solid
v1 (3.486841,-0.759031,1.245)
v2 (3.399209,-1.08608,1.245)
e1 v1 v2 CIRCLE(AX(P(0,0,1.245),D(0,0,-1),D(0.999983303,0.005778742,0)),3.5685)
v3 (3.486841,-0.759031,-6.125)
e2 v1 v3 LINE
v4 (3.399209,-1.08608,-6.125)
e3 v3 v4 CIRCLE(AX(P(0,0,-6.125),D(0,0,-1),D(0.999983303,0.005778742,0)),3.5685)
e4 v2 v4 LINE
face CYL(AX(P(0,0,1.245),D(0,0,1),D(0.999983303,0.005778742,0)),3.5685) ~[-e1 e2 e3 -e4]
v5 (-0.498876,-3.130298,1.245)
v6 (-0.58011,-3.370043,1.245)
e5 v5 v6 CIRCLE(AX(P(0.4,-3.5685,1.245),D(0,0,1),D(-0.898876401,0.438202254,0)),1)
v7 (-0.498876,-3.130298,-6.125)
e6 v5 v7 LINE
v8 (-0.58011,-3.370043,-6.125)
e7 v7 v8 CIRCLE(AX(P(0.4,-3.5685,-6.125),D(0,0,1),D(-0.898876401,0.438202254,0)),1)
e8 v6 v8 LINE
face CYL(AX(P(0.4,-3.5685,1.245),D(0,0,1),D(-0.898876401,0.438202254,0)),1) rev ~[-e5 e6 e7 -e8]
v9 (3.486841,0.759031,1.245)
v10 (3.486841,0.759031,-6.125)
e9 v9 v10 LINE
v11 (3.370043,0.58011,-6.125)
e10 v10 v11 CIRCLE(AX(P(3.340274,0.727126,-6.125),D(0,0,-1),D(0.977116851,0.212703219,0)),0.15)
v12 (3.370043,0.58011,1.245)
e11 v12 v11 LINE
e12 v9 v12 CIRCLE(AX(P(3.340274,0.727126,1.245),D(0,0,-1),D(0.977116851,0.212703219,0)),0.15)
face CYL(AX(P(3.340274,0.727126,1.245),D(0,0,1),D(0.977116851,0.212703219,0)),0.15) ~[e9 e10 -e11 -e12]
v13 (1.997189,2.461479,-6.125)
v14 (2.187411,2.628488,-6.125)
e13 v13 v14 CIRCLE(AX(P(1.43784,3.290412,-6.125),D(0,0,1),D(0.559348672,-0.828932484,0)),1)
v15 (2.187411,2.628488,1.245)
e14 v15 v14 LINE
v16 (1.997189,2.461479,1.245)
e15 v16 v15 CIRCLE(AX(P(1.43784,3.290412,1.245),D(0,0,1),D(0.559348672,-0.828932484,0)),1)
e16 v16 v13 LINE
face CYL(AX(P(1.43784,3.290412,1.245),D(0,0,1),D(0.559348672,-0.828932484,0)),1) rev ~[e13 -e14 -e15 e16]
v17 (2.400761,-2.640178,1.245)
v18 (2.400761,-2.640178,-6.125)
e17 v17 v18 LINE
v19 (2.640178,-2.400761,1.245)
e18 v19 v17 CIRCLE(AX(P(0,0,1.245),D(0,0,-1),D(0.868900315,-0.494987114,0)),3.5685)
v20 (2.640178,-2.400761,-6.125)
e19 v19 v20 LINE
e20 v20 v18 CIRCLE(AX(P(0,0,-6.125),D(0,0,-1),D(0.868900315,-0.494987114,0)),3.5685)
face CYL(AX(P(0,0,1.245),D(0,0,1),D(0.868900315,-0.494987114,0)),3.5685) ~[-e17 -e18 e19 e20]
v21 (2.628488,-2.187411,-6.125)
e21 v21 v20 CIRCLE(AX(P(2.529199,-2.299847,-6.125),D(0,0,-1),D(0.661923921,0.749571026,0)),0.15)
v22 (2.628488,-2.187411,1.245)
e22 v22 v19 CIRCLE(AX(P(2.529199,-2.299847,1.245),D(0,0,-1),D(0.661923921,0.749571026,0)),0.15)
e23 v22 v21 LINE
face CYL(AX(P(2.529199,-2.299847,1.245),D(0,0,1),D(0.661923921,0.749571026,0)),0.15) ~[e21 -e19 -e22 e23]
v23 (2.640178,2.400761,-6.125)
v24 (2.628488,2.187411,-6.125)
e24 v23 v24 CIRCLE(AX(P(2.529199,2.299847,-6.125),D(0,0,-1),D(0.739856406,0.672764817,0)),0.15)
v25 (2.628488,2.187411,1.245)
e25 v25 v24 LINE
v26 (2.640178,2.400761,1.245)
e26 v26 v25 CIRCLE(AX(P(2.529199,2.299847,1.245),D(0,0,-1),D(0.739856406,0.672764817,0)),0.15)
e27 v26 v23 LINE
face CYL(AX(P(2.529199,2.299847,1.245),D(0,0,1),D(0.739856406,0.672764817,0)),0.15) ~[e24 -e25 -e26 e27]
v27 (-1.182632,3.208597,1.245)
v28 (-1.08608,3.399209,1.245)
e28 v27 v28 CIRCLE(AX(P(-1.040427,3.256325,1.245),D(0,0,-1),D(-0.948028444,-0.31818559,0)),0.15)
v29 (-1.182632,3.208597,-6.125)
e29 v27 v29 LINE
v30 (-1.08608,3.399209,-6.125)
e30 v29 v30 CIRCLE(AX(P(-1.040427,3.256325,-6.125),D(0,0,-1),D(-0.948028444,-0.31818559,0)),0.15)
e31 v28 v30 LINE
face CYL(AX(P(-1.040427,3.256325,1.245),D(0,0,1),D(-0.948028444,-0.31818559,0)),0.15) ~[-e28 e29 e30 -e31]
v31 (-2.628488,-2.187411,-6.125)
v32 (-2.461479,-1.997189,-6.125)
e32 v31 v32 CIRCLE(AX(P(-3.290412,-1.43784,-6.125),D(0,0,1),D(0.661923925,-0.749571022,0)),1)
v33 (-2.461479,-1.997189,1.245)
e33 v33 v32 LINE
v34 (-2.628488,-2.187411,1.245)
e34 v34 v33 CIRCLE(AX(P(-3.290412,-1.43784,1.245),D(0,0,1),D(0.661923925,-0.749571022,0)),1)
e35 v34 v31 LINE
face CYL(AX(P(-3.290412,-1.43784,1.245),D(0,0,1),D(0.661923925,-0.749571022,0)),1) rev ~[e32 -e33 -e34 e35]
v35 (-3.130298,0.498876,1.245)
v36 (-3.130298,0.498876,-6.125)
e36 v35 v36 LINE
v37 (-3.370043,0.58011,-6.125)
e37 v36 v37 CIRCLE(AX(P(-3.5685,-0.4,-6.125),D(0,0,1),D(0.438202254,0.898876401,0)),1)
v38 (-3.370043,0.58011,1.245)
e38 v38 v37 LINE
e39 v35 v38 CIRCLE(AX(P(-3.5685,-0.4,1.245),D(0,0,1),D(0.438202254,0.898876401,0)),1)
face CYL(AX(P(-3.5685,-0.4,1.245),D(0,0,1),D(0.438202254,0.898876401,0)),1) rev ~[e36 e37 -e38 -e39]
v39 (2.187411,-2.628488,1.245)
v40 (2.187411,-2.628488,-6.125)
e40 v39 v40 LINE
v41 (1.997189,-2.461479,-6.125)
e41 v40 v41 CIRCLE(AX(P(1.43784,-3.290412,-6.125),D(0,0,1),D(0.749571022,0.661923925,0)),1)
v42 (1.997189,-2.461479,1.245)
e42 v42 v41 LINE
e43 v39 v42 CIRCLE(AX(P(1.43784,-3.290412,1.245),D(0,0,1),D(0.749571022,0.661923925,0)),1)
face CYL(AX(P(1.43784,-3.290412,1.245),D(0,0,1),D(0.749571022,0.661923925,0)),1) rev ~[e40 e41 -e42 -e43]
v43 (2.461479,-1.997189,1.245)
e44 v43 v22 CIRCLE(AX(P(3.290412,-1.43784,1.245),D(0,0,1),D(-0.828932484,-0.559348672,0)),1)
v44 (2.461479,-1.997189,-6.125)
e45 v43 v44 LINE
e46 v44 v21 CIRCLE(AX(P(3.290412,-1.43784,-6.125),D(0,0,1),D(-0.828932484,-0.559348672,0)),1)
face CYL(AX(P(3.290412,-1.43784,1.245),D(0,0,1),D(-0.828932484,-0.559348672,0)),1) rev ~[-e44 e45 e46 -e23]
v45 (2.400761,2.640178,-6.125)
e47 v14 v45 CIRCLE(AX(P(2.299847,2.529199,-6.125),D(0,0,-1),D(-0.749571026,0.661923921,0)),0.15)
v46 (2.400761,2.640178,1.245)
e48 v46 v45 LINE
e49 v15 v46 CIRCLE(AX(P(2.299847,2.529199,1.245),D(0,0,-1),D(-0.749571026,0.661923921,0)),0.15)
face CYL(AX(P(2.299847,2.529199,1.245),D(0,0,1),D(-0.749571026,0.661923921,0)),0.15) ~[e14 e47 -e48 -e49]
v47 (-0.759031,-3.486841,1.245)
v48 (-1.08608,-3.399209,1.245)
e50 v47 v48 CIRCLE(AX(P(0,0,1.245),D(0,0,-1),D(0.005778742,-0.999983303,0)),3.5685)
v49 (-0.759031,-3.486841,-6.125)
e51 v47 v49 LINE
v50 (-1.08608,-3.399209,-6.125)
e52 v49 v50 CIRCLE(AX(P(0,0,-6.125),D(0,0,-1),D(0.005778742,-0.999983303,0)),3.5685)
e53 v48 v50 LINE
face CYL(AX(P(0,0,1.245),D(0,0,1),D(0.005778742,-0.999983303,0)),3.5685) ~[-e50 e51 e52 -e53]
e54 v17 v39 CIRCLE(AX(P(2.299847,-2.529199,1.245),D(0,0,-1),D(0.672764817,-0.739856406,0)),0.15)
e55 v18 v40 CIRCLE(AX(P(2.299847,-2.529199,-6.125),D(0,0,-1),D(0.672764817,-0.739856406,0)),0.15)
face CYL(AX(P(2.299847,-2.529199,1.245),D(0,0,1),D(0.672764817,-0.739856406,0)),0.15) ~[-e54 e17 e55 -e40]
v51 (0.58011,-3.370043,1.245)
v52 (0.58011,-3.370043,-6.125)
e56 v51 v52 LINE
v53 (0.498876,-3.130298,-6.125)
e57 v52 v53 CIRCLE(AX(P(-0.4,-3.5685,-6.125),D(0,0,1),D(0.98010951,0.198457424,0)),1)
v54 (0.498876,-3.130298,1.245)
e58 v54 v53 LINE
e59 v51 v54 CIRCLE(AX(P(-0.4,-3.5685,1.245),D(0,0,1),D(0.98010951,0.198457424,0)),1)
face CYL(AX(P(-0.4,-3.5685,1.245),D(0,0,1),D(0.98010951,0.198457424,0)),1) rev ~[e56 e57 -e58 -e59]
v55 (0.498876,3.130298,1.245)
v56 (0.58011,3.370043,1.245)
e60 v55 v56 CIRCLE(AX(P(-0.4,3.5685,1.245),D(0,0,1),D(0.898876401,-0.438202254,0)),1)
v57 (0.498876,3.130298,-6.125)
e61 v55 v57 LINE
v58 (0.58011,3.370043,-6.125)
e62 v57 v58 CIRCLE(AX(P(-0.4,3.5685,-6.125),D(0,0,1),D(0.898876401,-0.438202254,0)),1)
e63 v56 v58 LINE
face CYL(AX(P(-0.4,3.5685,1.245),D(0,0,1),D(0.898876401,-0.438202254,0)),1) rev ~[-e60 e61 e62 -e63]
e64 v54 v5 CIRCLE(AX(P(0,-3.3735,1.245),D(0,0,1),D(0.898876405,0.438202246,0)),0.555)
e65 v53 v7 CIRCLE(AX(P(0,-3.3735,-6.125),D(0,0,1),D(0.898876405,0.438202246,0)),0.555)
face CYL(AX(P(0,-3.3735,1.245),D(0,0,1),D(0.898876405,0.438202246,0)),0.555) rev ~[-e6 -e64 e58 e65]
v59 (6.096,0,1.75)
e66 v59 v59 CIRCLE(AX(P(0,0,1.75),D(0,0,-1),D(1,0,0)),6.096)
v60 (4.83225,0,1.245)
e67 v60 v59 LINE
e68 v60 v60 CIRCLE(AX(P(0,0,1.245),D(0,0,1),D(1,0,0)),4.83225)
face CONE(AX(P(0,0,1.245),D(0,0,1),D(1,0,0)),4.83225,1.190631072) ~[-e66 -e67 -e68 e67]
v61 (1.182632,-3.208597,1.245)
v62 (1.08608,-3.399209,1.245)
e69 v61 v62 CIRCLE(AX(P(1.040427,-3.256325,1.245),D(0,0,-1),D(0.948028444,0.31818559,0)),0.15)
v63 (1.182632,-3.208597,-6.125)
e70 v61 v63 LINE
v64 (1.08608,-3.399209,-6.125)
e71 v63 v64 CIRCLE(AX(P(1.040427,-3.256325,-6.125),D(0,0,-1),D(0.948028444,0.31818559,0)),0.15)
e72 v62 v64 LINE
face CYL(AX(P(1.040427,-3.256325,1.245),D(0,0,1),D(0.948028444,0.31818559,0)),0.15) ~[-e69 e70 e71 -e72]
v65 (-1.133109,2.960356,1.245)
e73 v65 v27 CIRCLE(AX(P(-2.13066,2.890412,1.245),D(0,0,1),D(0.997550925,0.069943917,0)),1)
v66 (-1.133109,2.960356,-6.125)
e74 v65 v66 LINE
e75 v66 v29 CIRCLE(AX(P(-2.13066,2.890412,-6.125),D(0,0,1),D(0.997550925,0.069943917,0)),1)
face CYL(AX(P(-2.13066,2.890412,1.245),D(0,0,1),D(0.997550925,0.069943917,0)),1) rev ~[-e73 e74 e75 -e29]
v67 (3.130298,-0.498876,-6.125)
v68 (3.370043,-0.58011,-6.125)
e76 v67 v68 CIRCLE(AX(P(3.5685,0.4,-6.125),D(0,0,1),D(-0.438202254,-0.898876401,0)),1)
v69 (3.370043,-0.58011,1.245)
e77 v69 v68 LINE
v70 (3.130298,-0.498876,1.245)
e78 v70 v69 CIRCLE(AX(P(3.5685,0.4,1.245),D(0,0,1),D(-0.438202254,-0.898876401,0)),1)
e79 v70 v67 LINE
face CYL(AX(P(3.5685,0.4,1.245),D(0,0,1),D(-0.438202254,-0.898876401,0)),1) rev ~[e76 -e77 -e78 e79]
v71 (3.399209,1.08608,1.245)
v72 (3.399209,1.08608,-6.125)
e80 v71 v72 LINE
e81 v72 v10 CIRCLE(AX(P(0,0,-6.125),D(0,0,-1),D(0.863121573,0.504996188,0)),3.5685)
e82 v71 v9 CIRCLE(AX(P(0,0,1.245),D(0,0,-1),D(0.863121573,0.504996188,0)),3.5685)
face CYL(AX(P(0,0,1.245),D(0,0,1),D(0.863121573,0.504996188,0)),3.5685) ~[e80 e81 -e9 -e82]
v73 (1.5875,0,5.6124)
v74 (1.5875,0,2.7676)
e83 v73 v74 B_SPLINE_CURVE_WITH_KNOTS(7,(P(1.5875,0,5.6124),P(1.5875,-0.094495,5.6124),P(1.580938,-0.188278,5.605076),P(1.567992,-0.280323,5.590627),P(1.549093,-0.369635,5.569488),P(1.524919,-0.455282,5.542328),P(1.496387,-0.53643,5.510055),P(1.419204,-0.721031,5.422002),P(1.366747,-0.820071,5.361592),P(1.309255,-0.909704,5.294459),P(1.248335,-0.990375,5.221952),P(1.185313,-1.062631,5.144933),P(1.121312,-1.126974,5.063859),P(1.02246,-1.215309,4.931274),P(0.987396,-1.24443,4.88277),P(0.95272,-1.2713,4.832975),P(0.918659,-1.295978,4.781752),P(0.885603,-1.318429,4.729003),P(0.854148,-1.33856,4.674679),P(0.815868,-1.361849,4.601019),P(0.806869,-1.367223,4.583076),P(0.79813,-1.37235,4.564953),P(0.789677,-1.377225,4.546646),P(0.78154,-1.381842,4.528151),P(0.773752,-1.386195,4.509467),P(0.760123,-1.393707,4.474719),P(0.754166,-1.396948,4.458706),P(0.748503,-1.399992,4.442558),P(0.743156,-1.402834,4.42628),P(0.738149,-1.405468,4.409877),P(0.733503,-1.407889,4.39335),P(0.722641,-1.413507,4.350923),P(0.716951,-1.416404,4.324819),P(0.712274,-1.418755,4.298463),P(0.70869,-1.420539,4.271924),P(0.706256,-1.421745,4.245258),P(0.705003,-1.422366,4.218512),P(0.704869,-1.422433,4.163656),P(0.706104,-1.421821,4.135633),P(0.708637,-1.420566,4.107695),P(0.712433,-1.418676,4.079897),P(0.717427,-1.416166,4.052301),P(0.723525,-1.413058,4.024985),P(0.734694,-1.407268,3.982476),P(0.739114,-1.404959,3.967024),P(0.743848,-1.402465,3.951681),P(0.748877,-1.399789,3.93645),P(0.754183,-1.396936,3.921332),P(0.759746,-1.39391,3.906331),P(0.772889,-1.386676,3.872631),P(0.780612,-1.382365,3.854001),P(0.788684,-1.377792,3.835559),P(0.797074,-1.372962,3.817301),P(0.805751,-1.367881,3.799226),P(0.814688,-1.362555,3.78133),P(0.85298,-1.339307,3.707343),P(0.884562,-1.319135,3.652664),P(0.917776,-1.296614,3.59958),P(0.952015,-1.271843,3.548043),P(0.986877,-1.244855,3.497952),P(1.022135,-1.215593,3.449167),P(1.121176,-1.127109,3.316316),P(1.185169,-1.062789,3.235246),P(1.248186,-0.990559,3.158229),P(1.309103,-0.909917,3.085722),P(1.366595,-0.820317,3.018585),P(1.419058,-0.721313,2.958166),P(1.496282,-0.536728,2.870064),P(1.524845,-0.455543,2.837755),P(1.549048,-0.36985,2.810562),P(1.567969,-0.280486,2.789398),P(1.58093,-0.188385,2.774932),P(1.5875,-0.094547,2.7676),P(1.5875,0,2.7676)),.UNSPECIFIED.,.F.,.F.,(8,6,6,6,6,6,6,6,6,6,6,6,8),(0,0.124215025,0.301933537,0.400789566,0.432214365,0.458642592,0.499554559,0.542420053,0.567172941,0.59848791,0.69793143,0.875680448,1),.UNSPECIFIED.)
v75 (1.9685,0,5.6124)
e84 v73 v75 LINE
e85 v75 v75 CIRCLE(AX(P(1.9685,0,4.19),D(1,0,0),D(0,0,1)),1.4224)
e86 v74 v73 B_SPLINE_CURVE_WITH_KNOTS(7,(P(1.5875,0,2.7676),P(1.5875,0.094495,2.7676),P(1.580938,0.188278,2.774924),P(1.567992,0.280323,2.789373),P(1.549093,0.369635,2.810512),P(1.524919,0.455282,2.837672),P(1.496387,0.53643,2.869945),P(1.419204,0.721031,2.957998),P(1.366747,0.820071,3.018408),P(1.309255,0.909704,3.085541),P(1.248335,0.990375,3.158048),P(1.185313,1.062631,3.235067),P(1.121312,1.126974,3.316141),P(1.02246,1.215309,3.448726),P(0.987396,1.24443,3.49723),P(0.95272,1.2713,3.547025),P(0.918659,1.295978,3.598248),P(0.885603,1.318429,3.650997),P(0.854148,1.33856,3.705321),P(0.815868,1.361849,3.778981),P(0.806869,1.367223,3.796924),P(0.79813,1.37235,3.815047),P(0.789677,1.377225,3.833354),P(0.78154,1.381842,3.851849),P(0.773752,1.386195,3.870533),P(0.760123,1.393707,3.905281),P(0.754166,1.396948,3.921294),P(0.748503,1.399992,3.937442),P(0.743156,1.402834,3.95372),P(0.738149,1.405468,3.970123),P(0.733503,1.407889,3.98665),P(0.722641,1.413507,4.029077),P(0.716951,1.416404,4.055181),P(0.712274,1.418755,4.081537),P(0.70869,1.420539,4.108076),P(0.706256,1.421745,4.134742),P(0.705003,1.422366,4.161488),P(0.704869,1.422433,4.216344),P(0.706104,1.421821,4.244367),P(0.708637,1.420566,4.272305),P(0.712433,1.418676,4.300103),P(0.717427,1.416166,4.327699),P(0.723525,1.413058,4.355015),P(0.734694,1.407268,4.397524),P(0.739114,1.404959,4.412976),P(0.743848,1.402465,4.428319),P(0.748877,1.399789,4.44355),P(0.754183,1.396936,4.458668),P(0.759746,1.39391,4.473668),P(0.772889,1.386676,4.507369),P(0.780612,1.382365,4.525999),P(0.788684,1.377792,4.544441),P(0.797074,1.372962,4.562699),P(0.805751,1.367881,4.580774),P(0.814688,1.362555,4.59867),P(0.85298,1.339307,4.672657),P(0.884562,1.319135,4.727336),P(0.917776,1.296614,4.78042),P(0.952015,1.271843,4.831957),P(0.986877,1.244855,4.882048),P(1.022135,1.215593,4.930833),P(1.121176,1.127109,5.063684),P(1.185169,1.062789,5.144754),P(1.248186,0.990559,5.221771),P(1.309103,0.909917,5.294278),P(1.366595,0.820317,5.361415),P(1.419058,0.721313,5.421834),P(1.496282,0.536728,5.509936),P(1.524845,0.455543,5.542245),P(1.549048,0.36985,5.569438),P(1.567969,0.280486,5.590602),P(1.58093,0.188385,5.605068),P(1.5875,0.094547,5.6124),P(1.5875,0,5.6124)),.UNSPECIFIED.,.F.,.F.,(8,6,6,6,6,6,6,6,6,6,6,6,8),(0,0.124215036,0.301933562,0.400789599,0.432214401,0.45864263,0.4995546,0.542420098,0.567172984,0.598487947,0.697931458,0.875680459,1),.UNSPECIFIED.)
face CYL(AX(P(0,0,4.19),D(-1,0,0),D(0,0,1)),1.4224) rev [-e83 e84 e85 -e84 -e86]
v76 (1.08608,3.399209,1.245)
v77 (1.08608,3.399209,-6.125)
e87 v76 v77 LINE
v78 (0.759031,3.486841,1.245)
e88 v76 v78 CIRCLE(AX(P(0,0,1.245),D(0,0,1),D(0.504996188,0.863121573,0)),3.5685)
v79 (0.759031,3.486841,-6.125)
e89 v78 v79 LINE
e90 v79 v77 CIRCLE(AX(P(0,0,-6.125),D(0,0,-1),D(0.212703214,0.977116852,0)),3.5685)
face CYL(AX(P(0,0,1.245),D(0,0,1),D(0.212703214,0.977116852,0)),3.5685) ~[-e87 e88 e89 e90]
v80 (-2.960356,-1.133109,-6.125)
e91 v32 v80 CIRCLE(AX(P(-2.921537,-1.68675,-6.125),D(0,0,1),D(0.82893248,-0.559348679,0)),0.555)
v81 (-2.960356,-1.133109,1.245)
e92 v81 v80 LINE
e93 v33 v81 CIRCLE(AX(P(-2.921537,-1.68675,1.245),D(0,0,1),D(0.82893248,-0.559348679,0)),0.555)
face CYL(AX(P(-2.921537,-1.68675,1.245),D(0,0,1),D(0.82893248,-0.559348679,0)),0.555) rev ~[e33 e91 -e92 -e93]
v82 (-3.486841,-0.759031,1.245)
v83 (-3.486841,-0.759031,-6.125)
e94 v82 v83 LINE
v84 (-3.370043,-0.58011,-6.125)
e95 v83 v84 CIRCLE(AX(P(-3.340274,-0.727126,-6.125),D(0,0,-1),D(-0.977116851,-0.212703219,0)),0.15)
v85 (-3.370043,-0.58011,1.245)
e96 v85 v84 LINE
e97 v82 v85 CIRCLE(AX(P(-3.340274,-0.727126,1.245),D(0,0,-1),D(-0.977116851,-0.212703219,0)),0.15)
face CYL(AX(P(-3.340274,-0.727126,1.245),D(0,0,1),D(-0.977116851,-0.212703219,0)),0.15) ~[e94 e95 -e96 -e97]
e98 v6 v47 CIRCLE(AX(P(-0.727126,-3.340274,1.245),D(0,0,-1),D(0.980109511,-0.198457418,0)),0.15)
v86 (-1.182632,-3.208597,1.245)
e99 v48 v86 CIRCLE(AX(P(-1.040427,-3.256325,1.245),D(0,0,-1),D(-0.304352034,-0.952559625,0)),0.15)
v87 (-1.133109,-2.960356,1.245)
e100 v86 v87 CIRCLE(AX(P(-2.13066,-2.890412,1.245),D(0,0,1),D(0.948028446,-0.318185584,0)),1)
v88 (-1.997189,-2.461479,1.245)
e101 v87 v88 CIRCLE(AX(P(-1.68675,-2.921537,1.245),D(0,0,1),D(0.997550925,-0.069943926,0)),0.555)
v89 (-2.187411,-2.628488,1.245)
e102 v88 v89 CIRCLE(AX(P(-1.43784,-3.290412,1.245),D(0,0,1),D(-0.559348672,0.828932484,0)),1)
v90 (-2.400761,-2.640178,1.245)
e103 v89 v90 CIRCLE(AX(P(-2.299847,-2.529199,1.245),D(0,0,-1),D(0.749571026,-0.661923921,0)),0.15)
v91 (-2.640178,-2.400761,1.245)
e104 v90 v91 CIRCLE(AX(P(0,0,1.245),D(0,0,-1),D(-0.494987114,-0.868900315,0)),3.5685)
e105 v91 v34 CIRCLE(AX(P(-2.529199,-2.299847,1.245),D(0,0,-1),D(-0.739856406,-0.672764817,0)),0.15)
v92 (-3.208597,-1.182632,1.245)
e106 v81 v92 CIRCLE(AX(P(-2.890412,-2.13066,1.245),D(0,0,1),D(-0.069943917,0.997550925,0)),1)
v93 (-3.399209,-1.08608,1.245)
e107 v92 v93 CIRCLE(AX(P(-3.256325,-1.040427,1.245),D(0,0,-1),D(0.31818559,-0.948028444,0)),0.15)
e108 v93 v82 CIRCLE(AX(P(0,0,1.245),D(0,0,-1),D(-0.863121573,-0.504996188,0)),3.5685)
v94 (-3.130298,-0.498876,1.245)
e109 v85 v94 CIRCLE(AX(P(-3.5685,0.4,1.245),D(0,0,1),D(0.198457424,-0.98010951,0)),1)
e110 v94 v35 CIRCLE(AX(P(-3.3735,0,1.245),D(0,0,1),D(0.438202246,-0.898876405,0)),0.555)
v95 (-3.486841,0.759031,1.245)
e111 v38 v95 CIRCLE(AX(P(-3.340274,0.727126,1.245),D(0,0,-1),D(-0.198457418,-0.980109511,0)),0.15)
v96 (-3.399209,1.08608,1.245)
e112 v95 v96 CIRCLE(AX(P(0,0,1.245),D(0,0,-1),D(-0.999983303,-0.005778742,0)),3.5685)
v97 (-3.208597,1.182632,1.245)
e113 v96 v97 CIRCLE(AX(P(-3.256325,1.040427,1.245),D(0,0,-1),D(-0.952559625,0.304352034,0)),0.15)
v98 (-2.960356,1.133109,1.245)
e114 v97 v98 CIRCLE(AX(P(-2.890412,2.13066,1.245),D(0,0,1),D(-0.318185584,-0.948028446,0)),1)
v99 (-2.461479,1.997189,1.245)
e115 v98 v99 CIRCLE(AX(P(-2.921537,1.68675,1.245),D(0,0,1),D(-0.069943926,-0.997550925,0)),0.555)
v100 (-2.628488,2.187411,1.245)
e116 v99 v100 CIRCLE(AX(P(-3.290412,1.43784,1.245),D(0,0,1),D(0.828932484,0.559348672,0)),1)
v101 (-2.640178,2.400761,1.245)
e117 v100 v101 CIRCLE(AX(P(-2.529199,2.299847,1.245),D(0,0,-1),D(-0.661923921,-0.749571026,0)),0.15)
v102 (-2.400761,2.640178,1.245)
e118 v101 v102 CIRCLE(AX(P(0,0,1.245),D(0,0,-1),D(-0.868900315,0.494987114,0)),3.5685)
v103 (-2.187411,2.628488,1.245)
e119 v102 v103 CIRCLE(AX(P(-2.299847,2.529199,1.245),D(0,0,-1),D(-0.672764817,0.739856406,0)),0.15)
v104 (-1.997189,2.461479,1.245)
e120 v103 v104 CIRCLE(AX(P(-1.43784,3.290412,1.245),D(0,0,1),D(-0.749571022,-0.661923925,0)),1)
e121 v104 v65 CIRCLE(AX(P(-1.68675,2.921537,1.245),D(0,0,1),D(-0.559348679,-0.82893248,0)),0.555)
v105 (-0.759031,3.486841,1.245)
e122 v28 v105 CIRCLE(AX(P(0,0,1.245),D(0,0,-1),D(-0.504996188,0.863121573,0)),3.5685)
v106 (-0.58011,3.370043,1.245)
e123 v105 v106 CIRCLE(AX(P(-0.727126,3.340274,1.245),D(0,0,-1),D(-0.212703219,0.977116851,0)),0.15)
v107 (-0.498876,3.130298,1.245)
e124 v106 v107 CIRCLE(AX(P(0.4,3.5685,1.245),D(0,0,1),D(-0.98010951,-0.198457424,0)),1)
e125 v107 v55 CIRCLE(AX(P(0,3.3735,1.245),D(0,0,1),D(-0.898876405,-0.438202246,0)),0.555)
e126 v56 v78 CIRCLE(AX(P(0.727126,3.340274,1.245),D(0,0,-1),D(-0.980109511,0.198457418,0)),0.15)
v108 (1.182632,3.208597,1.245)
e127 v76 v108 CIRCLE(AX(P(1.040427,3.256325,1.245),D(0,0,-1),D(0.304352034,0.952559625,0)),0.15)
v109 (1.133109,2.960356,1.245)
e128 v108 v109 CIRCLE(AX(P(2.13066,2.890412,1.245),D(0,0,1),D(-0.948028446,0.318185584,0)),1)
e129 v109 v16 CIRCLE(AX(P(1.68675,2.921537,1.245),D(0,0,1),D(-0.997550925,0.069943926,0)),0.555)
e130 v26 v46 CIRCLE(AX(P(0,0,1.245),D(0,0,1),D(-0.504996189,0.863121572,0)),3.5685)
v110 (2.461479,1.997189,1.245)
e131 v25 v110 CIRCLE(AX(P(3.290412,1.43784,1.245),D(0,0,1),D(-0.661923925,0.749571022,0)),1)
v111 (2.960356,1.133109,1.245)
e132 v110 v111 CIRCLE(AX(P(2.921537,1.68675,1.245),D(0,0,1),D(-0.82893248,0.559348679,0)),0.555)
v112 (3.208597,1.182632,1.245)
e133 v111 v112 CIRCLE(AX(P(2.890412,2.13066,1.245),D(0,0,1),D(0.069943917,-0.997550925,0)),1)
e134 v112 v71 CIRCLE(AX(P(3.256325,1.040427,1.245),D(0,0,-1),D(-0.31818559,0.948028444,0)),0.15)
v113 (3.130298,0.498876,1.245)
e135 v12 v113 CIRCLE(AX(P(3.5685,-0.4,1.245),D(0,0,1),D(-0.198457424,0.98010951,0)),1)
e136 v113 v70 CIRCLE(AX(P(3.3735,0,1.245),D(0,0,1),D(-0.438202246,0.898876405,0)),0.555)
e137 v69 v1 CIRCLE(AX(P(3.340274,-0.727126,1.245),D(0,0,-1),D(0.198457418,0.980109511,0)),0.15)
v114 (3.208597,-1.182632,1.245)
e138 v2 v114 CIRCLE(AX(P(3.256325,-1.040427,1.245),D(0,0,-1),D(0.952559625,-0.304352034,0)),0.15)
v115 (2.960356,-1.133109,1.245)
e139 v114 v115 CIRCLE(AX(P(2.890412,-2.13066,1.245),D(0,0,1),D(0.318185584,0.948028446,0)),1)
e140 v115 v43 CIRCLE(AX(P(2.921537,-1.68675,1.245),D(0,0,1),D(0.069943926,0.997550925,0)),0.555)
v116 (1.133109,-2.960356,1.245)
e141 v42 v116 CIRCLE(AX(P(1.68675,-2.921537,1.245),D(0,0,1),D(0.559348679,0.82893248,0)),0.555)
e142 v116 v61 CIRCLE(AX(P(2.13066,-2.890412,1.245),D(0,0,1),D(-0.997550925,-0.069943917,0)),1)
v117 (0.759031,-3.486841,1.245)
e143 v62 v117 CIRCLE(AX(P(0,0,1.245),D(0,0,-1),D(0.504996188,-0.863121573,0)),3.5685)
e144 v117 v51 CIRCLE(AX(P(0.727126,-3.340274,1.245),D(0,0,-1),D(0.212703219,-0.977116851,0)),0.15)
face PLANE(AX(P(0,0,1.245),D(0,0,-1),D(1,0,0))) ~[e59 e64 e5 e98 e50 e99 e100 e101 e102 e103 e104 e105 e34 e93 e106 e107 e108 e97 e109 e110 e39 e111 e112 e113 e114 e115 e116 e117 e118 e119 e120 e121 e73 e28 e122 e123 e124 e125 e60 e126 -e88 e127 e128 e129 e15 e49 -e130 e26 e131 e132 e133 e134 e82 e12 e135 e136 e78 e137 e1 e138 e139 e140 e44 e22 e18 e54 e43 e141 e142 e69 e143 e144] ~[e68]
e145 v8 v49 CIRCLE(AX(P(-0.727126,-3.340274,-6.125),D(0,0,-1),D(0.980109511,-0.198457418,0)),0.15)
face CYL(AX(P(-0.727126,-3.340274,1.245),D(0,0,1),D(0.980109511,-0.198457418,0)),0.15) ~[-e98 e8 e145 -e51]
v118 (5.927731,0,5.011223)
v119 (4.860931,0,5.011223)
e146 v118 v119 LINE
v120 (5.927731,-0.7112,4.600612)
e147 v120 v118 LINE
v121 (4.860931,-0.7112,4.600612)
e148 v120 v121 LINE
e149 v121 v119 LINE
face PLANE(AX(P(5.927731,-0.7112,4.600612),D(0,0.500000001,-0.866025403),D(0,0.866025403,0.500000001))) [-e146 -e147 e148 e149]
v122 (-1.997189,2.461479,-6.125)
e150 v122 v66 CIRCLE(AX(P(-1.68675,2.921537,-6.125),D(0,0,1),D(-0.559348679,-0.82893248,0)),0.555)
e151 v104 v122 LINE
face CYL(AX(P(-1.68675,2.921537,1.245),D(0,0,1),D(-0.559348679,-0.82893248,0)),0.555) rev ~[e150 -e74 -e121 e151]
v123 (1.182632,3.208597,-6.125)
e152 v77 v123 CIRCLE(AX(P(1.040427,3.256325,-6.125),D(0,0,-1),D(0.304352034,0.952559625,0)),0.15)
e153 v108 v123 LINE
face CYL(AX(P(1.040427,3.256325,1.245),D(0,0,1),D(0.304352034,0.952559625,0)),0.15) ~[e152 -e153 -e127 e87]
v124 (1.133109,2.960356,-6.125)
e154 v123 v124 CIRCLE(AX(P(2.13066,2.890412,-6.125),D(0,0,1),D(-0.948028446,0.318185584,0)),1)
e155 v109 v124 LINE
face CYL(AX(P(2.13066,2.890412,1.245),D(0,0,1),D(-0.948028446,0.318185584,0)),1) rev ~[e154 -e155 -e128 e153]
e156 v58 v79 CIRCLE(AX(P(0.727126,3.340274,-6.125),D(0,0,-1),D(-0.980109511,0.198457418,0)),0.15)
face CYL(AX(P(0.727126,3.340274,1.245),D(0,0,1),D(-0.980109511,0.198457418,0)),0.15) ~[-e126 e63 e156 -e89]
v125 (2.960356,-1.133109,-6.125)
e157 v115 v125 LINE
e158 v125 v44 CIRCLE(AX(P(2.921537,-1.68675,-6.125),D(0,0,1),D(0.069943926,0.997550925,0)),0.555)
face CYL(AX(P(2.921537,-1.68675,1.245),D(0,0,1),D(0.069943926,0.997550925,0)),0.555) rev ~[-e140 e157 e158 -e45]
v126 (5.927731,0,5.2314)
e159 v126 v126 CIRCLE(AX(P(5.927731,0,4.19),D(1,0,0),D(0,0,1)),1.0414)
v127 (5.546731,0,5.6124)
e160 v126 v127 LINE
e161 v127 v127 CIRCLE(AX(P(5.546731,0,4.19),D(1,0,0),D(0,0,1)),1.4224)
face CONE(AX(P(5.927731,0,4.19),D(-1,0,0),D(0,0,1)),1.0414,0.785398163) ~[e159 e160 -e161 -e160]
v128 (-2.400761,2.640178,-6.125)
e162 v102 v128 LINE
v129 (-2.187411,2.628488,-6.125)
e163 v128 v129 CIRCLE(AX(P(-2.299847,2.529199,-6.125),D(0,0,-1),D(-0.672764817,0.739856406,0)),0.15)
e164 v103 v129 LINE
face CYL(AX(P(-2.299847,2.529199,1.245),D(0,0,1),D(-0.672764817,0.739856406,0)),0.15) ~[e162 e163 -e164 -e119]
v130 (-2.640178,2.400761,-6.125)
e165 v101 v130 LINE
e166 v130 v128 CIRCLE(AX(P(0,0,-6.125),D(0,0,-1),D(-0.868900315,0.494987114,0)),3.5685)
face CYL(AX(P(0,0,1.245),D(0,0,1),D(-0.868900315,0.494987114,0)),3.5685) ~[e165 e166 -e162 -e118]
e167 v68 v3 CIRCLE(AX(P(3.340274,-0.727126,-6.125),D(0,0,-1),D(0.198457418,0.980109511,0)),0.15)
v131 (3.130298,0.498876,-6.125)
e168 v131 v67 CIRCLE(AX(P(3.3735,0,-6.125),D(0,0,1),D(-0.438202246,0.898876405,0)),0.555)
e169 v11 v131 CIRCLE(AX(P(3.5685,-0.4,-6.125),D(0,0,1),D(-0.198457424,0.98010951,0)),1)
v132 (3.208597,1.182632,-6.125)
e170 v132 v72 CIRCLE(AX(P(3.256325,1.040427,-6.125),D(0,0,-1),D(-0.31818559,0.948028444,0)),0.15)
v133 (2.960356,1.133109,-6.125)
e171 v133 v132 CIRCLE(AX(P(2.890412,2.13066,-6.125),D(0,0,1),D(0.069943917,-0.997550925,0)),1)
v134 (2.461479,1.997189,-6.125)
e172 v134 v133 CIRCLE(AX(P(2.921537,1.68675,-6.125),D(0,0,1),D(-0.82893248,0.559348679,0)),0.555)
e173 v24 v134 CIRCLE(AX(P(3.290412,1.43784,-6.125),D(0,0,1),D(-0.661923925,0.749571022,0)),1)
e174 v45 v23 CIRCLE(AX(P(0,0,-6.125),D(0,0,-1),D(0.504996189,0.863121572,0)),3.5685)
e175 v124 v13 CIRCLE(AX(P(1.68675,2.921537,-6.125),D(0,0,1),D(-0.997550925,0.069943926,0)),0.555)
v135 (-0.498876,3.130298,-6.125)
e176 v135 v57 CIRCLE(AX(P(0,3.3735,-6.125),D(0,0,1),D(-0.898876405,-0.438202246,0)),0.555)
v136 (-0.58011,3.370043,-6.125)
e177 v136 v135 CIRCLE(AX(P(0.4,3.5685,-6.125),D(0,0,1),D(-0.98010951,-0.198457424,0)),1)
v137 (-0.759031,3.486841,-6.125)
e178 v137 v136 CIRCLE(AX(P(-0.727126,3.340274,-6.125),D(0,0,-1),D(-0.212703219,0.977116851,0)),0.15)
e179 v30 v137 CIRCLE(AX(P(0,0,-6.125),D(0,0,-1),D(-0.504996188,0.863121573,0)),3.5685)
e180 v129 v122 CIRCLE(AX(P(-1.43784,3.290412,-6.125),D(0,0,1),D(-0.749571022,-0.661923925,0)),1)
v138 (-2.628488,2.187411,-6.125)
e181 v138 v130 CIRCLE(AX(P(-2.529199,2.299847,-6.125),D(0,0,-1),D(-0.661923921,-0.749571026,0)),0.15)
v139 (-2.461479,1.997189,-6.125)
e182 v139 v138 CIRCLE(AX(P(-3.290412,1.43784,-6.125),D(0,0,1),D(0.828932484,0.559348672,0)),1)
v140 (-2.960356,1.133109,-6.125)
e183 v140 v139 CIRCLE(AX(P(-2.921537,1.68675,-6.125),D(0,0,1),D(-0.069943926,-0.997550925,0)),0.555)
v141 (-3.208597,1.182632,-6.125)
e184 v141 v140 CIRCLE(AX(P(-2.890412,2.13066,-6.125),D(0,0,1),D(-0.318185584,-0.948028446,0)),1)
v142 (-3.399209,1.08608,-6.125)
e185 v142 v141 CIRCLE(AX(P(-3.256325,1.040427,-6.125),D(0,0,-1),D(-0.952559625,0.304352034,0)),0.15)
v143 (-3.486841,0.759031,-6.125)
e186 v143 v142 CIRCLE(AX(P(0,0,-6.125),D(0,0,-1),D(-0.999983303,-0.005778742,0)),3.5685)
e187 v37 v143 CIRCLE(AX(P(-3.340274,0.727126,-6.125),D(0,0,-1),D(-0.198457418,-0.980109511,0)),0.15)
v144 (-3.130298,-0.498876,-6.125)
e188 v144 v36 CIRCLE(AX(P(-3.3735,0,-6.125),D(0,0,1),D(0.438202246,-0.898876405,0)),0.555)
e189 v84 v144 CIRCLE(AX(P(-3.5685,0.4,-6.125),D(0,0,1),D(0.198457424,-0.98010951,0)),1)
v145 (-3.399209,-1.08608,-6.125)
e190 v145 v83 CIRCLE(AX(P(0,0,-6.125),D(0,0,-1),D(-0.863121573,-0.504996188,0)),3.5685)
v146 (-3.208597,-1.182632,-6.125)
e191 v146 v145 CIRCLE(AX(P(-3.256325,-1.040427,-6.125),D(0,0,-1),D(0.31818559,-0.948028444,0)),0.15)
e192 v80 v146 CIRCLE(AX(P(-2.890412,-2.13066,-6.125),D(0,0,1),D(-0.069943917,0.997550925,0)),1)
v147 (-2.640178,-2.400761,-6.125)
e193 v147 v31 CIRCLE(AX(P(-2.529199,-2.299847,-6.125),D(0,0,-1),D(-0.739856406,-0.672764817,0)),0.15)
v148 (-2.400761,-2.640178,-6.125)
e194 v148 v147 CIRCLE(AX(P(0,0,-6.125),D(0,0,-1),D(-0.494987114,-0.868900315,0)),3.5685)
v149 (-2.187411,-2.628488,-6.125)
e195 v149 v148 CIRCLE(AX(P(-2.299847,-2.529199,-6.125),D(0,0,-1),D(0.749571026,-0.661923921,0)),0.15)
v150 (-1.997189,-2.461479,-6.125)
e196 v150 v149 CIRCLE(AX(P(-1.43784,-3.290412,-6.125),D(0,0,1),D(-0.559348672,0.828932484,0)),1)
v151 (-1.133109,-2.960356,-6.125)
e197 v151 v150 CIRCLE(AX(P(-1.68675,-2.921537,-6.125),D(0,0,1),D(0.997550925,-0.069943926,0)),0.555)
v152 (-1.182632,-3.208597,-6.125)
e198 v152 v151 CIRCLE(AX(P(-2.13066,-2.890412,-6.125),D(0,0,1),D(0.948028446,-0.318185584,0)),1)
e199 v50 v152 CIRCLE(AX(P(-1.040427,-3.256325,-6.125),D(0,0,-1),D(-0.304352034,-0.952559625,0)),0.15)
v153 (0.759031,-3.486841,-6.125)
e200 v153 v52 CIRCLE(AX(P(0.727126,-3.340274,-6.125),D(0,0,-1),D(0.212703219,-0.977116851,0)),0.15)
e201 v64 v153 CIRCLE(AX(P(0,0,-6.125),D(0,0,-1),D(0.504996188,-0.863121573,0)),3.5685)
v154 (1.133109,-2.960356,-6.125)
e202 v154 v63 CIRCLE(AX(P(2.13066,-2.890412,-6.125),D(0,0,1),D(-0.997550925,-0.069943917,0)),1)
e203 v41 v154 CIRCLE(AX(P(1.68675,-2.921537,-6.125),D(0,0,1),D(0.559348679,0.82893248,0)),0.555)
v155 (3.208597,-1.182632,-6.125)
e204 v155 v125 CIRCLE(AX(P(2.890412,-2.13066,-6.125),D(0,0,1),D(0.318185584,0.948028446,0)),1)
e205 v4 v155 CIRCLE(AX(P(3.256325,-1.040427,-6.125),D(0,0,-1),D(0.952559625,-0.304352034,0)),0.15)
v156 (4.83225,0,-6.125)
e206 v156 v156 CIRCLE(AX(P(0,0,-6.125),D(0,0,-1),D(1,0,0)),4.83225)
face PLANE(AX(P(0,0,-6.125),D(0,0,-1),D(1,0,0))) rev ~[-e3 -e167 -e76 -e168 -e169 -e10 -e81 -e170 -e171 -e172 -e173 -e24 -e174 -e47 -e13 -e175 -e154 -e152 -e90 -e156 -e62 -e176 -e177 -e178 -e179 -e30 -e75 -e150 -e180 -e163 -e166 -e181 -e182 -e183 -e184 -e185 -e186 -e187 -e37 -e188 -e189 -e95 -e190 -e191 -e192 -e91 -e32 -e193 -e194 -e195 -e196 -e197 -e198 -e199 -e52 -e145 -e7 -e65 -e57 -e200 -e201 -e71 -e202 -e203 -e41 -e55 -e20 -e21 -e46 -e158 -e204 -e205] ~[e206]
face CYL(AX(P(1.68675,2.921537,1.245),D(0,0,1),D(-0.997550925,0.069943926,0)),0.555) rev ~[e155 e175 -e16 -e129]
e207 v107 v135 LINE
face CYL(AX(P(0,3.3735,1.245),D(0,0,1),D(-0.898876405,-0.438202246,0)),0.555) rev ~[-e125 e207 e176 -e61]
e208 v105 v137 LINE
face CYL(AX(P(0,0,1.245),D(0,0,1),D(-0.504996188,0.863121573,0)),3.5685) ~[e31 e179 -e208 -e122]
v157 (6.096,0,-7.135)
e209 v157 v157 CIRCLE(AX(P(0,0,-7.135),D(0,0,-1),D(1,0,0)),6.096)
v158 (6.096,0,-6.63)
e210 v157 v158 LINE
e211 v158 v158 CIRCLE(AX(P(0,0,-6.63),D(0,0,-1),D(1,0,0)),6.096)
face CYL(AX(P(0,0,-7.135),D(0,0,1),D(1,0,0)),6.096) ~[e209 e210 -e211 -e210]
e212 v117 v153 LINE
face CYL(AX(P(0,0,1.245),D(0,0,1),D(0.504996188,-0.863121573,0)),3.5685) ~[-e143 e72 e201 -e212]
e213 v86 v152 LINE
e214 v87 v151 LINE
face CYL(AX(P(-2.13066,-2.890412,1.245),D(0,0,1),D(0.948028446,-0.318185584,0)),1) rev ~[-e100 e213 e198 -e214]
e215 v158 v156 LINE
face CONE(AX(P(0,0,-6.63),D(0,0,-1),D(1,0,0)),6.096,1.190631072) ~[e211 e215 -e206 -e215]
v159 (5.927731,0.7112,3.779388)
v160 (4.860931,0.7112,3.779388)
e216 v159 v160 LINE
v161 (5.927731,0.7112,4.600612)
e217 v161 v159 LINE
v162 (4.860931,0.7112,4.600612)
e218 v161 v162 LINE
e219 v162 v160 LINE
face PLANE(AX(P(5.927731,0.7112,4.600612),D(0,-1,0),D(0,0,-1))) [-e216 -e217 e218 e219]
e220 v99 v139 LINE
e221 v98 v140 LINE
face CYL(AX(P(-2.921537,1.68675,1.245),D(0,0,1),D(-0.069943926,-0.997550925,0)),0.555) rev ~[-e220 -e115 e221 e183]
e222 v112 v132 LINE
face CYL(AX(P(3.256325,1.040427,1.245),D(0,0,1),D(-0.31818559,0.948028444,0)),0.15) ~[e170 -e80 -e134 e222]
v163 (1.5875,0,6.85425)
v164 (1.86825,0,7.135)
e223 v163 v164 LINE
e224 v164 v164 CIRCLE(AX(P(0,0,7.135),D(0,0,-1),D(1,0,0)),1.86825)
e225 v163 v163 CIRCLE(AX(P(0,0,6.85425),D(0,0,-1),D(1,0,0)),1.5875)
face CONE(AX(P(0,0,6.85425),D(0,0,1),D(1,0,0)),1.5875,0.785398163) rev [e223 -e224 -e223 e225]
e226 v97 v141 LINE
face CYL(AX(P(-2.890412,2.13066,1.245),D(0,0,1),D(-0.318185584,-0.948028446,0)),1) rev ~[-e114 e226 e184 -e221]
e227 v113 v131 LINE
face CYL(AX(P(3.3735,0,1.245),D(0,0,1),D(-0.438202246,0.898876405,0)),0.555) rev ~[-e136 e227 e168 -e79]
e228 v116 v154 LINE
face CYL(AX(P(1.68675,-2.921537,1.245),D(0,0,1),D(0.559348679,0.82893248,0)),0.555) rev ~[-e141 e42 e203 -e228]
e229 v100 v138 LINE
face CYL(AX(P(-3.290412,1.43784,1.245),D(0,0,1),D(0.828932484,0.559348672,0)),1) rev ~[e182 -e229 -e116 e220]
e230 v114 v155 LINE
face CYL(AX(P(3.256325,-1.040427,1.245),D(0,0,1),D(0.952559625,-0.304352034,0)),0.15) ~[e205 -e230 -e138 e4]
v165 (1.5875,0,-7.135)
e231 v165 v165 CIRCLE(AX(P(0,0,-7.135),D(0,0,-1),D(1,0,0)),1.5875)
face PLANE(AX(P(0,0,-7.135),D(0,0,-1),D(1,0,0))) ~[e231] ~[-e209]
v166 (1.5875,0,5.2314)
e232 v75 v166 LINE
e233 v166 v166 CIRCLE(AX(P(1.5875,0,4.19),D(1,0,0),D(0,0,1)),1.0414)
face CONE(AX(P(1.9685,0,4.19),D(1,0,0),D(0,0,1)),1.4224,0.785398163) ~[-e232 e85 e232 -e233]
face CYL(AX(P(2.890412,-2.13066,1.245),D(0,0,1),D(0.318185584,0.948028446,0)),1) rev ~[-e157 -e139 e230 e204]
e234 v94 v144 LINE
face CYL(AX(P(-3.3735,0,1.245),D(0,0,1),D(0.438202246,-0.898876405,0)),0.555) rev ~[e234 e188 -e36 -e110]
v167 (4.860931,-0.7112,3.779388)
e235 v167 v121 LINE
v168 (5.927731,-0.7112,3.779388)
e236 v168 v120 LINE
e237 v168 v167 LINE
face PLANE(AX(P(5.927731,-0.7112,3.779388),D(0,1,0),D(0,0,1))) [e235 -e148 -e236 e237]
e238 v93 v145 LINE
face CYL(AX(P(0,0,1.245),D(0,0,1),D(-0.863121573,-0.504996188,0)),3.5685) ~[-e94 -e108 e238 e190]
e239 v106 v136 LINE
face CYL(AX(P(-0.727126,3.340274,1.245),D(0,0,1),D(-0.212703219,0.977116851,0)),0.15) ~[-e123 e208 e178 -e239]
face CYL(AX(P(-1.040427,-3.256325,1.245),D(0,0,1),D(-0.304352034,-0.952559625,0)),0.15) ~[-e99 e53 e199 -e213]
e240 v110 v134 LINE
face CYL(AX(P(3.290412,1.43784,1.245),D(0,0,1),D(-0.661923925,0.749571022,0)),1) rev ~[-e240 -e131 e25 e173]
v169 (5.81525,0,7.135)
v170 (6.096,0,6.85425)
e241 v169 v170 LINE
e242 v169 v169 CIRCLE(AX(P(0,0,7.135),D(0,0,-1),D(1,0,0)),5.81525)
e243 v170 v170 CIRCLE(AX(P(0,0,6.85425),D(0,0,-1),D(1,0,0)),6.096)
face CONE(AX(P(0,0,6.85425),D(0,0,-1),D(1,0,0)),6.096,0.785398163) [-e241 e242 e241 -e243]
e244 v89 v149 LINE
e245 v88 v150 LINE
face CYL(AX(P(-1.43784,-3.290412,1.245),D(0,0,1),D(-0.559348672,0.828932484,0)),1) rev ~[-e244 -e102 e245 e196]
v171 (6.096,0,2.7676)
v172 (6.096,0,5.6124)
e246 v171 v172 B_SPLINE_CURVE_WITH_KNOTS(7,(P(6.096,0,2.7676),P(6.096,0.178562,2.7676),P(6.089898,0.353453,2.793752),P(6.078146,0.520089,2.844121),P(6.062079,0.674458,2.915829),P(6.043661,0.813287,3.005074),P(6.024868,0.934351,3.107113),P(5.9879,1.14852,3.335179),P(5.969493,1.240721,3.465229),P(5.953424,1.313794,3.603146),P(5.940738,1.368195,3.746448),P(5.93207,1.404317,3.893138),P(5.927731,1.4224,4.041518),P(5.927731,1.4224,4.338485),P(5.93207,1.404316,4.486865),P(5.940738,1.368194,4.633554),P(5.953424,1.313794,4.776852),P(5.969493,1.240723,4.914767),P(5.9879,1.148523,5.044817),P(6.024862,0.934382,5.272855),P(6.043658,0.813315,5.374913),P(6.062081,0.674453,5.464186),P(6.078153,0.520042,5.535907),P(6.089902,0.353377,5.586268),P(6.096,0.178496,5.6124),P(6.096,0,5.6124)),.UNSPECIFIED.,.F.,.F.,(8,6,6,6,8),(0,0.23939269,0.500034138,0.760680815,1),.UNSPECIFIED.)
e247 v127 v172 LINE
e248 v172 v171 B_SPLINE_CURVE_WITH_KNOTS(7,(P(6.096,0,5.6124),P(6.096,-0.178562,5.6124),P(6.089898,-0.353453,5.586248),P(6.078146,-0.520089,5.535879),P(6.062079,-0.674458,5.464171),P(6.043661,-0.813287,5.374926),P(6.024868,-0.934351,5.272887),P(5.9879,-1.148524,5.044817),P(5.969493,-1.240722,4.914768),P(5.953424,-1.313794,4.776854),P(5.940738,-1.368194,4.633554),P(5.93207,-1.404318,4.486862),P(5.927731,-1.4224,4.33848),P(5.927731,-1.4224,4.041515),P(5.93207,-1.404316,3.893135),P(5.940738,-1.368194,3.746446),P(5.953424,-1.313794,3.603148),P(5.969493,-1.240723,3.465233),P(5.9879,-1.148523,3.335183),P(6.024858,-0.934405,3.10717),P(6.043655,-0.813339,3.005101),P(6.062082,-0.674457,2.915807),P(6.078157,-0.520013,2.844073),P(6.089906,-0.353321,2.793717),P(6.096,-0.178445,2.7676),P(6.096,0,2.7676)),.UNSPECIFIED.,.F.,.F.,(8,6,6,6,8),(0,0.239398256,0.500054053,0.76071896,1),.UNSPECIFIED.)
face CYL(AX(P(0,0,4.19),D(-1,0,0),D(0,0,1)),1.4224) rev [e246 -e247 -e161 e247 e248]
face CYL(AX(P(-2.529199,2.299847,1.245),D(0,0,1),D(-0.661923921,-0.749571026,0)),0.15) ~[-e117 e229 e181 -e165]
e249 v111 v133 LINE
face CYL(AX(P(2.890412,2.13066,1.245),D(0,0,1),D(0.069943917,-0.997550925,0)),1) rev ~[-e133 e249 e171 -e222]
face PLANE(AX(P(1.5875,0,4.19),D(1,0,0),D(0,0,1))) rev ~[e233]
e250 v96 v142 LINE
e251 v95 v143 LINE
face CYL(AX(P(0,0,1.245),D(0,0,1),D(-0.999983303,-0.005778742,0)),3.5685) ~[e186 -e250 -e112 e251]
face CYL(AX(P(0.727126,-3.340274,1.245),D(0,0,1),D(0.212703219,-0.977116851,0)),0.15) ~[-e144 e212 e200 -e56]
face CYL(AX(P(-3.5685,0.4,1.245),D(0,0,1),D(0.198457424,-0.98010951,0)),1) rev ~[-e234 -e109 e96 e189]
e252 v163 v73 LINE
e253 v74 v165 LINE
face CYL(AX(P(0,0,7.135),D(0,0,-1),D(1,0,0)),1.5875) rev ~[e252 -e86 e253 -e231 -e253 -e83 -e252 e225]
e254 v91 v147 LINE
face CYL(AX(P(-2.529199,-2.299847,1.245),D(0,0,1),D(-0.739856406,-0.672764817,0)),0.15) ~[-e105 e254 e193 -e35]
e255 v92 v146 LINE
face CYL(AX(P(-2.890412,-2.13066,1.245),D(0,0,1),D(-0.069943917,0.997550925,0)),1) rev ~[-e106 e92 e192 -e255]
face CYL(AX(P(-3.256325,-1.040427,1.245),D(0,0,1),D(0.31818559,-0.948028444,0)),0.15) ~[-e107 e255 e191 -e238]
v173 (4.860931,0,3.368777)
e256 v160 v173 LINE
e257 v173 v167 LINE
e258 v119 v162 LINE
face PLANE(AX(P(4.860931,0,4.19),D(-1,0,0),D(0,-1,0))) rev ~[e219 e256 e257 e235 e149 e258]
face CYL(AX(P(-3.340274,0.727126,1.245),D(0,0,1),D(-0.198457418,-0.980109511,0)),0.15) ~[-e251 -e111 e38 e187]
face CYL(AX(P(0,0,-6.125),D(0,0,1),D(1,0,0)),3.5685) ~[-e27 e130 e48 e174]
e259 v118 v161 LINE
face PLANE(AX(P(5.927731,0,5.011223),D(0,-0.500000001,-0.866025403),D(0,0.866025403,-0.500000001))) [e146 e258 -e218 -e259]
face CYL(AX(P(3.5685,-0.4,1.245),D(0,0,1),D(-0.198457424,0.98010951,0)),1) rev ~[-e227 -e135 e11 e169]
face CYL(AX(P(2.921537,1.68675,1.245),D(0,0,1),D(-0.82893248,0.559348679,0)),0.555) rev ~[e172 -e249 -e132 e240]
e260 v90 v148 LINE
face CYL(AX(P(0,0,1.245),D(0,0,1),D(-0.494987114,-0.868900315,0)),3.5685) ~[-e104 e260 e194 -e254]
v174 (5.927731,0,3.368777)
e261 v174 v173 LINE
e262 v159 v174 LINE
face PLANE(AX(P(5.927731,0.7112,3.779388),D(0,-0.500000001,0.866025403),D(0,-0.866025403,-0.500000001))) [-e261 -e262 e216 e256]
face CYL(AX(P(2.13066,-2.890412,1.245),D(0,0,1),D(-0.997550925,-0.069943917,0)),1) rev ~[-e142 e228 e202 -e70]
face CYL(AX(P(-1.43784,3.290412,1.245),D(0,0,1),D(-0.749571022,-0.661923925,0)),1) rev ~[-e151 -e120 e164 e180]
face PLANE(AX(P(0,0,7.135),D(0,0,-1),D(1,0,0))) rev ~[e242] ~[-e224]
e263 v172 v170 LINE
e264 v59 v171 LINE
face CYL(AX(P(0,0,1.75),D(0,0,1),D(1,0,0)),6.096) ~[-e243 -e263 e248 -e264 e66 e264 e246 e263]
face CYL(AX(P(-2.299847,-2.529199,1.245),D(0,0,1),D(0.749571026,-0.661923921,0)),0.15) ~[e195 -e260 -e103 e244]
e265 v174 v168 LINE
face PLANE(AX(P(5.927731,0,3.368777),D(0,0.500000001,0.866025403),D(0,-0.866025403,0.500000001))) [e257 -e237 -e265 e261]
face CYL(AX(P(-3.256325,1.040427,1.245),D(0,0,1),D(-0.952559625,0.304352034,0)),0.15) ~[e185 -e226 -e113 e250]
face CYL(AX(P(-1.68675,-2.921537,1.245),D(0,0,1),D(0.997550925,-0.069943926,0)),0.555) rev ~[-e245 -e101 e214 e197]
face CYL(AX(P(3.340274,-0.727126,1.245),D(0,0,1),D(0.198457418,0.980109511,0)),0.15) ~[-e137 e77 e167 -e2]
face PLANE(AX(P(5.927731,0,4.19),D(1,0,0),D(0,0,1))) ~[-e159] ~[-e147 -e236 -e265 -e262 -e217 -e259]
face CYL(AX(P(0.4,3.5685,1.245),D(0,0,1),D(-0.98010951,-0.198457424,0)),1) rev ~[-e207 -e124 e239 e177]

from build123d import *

# Parameters (mm, degrees)
CUT_EXTRUDE1_START = 1.245
CUT_EXTRUDE1_DEPTH = 7.37
CIRPATTERN1_COUNT  = 12
SKETCH4_R          = 1.4224
CUT_EXTRUDE2_DEPTH = 12.190650428
CUT_EXTRUDE3_DEPTH = 1.0668
CHAMFER1_SIZE      = 0.28075


with BuildPart() as part:
    # Sketch2 → Revolve1 (revolve)
    with BuildSketch(Plane(origin=(0, 0, 0), x_dir=(0, 0, -1), z_dir=(1, 0, 0)), mode=Mode.PRIVATE) as revolve1_sk:
        Polygon((-7.135, 1.5875), (7.135, 1.5875), (7.135, 6.096), (6.63, 6.096), (6.125, 4.83225), (6.125, 3.5685), (-1.245, 3.5685), (-1.245, 4.83225), (-1.75, 6.096), (-7.135, 6.096), align=None)
    revolve(revolve1_sk.sketch.rotate(Axis((0, 0, 7.135), (0, 0, -1)), 90), axis=Axis((0, 0, 7.135), (0, 0, -1)))

    # Sketch3 → Cut-Extrude1 (cut)
    with BuildSketch(Plane.XY.offset(CUT_EXTRUDE1_START)):
        with BuildLine():
            Line((3.566654882, 6.096), (-3.566654882, 6.096))
            Line((-3.566654882, 6.096), (-1.802078902, 3.080049331))
            ThreePointArc((-1.802078902, 3.080049331), (-1.296607682, 3.324605355), (-0.759031417, 3.486841487))
            ThreePointArc((-0.759031417, 3.486841487), (-0.645131247, 3.465879975), (-0.580109509, 3.370042573))
            ThreePointArc((-0.580109509, 3.370042573), (-0.547109503, 3.247589437), (-0.498876404, 3.130297753))
            ThreePointArc((-0.498876404, 3.130297753), (0, 2.8185), (0.498876404, 3.130297753))
            ThreePointArc((0.498876404, 3.130297753), (0.547109503, 3.247589437), (0.580109509, 3.370042573))
            ThreePointArc((0.580109509, 3.370042573), (0.645131247, 3.465879975), (0.759031417, 3.486841487))
            ThreePointArc((0.759031417, 3.486841487), (1.296607682, 3.324605355), (1.802078902, 3.080049331))
            Line((1.802078902, 3.080049331), (3.566654882, 6.096))
        make_face()
    cut_extrude1 = extrude(amount=-CUT_EXTRUDE1_DEPTH, mode=Mode.SUBTRACT)

    # CirPattern1: Cut-Extrude1 ×12 about axis
    cirpattern1_axis = Axis((0, 0, 0), (0, 0, 1))
    for i in range(1, CIRPATTERN1_COUNT):
        add(cut_extrude1.rotate(cirpattern1_axis, i * 360 / CIRPATTERN1_COUNT), mode=Mode.SUBTRACT)

    # Sketch4 → Cut-Extrude2 (cut, through all)
    with BuildSketch(Plane(origin=(0, 0, 0), x_dir=(0, -1, 0), z_dir=(1, 0, 0))):
        with Locations(Location((0, -4.19, 0), (0, 0, 270))):
            Circle(SKETCH4_R)
    extrude(amount=CUT_EXTRUDE2_DEPTH, mode=Mode.SUBTRACT)

    # Sketch5 → Revolve2 (revolve)
    with BuildSketch(Plane.XY.offset(4.19), mode=Mode.PRIVATE) as revolve2_sk:
        Polygon((1.5875, -1.0414), (1.5875, 0), (5.927730952, 0), (5.927730952, -1.0414), (5.546730952, -1.4224), (1.9685, -1.4224), align=None)
    revolve(revolve2_sk.sketch.rotate(Axis((1.5875, 0, 4.19), (1, 0, 0)), 270), axis=Axis((1.5875, 0, 4.19), (1, 0, 0)))

    # Sketch6 → Cut-Extrude3 (cut)
    with BuildSketch(Plane(origin=(5.927730952, 5.384140679, 0), x_dir=(0, -1, 0), z_dir=(-1, 0, 0))):
        Polygon((5.384140679, 5.011223023), (4.672940679, 4.600611511), (4.672940679, 3.779388489), (5.384140679, 3.368776977), (6.095340679, 3.779388489), (6.095340679, 4.600611511), align=None)
    extrude(amount=CUT_EXTRUDE3_DEPTH, mode=Mode.SUBTRACT)

    # Chamfer1
    chamfer1_edges = [part.edges().sort_by_distance(p)[0] for p in [
        (-1.5875, 0, 7.135),
        (-6.096, 0, 7.135),
    ]]
    chamfer(chamfer1_edges, length=CHAMFER1_SIZE)


solid = part.part
